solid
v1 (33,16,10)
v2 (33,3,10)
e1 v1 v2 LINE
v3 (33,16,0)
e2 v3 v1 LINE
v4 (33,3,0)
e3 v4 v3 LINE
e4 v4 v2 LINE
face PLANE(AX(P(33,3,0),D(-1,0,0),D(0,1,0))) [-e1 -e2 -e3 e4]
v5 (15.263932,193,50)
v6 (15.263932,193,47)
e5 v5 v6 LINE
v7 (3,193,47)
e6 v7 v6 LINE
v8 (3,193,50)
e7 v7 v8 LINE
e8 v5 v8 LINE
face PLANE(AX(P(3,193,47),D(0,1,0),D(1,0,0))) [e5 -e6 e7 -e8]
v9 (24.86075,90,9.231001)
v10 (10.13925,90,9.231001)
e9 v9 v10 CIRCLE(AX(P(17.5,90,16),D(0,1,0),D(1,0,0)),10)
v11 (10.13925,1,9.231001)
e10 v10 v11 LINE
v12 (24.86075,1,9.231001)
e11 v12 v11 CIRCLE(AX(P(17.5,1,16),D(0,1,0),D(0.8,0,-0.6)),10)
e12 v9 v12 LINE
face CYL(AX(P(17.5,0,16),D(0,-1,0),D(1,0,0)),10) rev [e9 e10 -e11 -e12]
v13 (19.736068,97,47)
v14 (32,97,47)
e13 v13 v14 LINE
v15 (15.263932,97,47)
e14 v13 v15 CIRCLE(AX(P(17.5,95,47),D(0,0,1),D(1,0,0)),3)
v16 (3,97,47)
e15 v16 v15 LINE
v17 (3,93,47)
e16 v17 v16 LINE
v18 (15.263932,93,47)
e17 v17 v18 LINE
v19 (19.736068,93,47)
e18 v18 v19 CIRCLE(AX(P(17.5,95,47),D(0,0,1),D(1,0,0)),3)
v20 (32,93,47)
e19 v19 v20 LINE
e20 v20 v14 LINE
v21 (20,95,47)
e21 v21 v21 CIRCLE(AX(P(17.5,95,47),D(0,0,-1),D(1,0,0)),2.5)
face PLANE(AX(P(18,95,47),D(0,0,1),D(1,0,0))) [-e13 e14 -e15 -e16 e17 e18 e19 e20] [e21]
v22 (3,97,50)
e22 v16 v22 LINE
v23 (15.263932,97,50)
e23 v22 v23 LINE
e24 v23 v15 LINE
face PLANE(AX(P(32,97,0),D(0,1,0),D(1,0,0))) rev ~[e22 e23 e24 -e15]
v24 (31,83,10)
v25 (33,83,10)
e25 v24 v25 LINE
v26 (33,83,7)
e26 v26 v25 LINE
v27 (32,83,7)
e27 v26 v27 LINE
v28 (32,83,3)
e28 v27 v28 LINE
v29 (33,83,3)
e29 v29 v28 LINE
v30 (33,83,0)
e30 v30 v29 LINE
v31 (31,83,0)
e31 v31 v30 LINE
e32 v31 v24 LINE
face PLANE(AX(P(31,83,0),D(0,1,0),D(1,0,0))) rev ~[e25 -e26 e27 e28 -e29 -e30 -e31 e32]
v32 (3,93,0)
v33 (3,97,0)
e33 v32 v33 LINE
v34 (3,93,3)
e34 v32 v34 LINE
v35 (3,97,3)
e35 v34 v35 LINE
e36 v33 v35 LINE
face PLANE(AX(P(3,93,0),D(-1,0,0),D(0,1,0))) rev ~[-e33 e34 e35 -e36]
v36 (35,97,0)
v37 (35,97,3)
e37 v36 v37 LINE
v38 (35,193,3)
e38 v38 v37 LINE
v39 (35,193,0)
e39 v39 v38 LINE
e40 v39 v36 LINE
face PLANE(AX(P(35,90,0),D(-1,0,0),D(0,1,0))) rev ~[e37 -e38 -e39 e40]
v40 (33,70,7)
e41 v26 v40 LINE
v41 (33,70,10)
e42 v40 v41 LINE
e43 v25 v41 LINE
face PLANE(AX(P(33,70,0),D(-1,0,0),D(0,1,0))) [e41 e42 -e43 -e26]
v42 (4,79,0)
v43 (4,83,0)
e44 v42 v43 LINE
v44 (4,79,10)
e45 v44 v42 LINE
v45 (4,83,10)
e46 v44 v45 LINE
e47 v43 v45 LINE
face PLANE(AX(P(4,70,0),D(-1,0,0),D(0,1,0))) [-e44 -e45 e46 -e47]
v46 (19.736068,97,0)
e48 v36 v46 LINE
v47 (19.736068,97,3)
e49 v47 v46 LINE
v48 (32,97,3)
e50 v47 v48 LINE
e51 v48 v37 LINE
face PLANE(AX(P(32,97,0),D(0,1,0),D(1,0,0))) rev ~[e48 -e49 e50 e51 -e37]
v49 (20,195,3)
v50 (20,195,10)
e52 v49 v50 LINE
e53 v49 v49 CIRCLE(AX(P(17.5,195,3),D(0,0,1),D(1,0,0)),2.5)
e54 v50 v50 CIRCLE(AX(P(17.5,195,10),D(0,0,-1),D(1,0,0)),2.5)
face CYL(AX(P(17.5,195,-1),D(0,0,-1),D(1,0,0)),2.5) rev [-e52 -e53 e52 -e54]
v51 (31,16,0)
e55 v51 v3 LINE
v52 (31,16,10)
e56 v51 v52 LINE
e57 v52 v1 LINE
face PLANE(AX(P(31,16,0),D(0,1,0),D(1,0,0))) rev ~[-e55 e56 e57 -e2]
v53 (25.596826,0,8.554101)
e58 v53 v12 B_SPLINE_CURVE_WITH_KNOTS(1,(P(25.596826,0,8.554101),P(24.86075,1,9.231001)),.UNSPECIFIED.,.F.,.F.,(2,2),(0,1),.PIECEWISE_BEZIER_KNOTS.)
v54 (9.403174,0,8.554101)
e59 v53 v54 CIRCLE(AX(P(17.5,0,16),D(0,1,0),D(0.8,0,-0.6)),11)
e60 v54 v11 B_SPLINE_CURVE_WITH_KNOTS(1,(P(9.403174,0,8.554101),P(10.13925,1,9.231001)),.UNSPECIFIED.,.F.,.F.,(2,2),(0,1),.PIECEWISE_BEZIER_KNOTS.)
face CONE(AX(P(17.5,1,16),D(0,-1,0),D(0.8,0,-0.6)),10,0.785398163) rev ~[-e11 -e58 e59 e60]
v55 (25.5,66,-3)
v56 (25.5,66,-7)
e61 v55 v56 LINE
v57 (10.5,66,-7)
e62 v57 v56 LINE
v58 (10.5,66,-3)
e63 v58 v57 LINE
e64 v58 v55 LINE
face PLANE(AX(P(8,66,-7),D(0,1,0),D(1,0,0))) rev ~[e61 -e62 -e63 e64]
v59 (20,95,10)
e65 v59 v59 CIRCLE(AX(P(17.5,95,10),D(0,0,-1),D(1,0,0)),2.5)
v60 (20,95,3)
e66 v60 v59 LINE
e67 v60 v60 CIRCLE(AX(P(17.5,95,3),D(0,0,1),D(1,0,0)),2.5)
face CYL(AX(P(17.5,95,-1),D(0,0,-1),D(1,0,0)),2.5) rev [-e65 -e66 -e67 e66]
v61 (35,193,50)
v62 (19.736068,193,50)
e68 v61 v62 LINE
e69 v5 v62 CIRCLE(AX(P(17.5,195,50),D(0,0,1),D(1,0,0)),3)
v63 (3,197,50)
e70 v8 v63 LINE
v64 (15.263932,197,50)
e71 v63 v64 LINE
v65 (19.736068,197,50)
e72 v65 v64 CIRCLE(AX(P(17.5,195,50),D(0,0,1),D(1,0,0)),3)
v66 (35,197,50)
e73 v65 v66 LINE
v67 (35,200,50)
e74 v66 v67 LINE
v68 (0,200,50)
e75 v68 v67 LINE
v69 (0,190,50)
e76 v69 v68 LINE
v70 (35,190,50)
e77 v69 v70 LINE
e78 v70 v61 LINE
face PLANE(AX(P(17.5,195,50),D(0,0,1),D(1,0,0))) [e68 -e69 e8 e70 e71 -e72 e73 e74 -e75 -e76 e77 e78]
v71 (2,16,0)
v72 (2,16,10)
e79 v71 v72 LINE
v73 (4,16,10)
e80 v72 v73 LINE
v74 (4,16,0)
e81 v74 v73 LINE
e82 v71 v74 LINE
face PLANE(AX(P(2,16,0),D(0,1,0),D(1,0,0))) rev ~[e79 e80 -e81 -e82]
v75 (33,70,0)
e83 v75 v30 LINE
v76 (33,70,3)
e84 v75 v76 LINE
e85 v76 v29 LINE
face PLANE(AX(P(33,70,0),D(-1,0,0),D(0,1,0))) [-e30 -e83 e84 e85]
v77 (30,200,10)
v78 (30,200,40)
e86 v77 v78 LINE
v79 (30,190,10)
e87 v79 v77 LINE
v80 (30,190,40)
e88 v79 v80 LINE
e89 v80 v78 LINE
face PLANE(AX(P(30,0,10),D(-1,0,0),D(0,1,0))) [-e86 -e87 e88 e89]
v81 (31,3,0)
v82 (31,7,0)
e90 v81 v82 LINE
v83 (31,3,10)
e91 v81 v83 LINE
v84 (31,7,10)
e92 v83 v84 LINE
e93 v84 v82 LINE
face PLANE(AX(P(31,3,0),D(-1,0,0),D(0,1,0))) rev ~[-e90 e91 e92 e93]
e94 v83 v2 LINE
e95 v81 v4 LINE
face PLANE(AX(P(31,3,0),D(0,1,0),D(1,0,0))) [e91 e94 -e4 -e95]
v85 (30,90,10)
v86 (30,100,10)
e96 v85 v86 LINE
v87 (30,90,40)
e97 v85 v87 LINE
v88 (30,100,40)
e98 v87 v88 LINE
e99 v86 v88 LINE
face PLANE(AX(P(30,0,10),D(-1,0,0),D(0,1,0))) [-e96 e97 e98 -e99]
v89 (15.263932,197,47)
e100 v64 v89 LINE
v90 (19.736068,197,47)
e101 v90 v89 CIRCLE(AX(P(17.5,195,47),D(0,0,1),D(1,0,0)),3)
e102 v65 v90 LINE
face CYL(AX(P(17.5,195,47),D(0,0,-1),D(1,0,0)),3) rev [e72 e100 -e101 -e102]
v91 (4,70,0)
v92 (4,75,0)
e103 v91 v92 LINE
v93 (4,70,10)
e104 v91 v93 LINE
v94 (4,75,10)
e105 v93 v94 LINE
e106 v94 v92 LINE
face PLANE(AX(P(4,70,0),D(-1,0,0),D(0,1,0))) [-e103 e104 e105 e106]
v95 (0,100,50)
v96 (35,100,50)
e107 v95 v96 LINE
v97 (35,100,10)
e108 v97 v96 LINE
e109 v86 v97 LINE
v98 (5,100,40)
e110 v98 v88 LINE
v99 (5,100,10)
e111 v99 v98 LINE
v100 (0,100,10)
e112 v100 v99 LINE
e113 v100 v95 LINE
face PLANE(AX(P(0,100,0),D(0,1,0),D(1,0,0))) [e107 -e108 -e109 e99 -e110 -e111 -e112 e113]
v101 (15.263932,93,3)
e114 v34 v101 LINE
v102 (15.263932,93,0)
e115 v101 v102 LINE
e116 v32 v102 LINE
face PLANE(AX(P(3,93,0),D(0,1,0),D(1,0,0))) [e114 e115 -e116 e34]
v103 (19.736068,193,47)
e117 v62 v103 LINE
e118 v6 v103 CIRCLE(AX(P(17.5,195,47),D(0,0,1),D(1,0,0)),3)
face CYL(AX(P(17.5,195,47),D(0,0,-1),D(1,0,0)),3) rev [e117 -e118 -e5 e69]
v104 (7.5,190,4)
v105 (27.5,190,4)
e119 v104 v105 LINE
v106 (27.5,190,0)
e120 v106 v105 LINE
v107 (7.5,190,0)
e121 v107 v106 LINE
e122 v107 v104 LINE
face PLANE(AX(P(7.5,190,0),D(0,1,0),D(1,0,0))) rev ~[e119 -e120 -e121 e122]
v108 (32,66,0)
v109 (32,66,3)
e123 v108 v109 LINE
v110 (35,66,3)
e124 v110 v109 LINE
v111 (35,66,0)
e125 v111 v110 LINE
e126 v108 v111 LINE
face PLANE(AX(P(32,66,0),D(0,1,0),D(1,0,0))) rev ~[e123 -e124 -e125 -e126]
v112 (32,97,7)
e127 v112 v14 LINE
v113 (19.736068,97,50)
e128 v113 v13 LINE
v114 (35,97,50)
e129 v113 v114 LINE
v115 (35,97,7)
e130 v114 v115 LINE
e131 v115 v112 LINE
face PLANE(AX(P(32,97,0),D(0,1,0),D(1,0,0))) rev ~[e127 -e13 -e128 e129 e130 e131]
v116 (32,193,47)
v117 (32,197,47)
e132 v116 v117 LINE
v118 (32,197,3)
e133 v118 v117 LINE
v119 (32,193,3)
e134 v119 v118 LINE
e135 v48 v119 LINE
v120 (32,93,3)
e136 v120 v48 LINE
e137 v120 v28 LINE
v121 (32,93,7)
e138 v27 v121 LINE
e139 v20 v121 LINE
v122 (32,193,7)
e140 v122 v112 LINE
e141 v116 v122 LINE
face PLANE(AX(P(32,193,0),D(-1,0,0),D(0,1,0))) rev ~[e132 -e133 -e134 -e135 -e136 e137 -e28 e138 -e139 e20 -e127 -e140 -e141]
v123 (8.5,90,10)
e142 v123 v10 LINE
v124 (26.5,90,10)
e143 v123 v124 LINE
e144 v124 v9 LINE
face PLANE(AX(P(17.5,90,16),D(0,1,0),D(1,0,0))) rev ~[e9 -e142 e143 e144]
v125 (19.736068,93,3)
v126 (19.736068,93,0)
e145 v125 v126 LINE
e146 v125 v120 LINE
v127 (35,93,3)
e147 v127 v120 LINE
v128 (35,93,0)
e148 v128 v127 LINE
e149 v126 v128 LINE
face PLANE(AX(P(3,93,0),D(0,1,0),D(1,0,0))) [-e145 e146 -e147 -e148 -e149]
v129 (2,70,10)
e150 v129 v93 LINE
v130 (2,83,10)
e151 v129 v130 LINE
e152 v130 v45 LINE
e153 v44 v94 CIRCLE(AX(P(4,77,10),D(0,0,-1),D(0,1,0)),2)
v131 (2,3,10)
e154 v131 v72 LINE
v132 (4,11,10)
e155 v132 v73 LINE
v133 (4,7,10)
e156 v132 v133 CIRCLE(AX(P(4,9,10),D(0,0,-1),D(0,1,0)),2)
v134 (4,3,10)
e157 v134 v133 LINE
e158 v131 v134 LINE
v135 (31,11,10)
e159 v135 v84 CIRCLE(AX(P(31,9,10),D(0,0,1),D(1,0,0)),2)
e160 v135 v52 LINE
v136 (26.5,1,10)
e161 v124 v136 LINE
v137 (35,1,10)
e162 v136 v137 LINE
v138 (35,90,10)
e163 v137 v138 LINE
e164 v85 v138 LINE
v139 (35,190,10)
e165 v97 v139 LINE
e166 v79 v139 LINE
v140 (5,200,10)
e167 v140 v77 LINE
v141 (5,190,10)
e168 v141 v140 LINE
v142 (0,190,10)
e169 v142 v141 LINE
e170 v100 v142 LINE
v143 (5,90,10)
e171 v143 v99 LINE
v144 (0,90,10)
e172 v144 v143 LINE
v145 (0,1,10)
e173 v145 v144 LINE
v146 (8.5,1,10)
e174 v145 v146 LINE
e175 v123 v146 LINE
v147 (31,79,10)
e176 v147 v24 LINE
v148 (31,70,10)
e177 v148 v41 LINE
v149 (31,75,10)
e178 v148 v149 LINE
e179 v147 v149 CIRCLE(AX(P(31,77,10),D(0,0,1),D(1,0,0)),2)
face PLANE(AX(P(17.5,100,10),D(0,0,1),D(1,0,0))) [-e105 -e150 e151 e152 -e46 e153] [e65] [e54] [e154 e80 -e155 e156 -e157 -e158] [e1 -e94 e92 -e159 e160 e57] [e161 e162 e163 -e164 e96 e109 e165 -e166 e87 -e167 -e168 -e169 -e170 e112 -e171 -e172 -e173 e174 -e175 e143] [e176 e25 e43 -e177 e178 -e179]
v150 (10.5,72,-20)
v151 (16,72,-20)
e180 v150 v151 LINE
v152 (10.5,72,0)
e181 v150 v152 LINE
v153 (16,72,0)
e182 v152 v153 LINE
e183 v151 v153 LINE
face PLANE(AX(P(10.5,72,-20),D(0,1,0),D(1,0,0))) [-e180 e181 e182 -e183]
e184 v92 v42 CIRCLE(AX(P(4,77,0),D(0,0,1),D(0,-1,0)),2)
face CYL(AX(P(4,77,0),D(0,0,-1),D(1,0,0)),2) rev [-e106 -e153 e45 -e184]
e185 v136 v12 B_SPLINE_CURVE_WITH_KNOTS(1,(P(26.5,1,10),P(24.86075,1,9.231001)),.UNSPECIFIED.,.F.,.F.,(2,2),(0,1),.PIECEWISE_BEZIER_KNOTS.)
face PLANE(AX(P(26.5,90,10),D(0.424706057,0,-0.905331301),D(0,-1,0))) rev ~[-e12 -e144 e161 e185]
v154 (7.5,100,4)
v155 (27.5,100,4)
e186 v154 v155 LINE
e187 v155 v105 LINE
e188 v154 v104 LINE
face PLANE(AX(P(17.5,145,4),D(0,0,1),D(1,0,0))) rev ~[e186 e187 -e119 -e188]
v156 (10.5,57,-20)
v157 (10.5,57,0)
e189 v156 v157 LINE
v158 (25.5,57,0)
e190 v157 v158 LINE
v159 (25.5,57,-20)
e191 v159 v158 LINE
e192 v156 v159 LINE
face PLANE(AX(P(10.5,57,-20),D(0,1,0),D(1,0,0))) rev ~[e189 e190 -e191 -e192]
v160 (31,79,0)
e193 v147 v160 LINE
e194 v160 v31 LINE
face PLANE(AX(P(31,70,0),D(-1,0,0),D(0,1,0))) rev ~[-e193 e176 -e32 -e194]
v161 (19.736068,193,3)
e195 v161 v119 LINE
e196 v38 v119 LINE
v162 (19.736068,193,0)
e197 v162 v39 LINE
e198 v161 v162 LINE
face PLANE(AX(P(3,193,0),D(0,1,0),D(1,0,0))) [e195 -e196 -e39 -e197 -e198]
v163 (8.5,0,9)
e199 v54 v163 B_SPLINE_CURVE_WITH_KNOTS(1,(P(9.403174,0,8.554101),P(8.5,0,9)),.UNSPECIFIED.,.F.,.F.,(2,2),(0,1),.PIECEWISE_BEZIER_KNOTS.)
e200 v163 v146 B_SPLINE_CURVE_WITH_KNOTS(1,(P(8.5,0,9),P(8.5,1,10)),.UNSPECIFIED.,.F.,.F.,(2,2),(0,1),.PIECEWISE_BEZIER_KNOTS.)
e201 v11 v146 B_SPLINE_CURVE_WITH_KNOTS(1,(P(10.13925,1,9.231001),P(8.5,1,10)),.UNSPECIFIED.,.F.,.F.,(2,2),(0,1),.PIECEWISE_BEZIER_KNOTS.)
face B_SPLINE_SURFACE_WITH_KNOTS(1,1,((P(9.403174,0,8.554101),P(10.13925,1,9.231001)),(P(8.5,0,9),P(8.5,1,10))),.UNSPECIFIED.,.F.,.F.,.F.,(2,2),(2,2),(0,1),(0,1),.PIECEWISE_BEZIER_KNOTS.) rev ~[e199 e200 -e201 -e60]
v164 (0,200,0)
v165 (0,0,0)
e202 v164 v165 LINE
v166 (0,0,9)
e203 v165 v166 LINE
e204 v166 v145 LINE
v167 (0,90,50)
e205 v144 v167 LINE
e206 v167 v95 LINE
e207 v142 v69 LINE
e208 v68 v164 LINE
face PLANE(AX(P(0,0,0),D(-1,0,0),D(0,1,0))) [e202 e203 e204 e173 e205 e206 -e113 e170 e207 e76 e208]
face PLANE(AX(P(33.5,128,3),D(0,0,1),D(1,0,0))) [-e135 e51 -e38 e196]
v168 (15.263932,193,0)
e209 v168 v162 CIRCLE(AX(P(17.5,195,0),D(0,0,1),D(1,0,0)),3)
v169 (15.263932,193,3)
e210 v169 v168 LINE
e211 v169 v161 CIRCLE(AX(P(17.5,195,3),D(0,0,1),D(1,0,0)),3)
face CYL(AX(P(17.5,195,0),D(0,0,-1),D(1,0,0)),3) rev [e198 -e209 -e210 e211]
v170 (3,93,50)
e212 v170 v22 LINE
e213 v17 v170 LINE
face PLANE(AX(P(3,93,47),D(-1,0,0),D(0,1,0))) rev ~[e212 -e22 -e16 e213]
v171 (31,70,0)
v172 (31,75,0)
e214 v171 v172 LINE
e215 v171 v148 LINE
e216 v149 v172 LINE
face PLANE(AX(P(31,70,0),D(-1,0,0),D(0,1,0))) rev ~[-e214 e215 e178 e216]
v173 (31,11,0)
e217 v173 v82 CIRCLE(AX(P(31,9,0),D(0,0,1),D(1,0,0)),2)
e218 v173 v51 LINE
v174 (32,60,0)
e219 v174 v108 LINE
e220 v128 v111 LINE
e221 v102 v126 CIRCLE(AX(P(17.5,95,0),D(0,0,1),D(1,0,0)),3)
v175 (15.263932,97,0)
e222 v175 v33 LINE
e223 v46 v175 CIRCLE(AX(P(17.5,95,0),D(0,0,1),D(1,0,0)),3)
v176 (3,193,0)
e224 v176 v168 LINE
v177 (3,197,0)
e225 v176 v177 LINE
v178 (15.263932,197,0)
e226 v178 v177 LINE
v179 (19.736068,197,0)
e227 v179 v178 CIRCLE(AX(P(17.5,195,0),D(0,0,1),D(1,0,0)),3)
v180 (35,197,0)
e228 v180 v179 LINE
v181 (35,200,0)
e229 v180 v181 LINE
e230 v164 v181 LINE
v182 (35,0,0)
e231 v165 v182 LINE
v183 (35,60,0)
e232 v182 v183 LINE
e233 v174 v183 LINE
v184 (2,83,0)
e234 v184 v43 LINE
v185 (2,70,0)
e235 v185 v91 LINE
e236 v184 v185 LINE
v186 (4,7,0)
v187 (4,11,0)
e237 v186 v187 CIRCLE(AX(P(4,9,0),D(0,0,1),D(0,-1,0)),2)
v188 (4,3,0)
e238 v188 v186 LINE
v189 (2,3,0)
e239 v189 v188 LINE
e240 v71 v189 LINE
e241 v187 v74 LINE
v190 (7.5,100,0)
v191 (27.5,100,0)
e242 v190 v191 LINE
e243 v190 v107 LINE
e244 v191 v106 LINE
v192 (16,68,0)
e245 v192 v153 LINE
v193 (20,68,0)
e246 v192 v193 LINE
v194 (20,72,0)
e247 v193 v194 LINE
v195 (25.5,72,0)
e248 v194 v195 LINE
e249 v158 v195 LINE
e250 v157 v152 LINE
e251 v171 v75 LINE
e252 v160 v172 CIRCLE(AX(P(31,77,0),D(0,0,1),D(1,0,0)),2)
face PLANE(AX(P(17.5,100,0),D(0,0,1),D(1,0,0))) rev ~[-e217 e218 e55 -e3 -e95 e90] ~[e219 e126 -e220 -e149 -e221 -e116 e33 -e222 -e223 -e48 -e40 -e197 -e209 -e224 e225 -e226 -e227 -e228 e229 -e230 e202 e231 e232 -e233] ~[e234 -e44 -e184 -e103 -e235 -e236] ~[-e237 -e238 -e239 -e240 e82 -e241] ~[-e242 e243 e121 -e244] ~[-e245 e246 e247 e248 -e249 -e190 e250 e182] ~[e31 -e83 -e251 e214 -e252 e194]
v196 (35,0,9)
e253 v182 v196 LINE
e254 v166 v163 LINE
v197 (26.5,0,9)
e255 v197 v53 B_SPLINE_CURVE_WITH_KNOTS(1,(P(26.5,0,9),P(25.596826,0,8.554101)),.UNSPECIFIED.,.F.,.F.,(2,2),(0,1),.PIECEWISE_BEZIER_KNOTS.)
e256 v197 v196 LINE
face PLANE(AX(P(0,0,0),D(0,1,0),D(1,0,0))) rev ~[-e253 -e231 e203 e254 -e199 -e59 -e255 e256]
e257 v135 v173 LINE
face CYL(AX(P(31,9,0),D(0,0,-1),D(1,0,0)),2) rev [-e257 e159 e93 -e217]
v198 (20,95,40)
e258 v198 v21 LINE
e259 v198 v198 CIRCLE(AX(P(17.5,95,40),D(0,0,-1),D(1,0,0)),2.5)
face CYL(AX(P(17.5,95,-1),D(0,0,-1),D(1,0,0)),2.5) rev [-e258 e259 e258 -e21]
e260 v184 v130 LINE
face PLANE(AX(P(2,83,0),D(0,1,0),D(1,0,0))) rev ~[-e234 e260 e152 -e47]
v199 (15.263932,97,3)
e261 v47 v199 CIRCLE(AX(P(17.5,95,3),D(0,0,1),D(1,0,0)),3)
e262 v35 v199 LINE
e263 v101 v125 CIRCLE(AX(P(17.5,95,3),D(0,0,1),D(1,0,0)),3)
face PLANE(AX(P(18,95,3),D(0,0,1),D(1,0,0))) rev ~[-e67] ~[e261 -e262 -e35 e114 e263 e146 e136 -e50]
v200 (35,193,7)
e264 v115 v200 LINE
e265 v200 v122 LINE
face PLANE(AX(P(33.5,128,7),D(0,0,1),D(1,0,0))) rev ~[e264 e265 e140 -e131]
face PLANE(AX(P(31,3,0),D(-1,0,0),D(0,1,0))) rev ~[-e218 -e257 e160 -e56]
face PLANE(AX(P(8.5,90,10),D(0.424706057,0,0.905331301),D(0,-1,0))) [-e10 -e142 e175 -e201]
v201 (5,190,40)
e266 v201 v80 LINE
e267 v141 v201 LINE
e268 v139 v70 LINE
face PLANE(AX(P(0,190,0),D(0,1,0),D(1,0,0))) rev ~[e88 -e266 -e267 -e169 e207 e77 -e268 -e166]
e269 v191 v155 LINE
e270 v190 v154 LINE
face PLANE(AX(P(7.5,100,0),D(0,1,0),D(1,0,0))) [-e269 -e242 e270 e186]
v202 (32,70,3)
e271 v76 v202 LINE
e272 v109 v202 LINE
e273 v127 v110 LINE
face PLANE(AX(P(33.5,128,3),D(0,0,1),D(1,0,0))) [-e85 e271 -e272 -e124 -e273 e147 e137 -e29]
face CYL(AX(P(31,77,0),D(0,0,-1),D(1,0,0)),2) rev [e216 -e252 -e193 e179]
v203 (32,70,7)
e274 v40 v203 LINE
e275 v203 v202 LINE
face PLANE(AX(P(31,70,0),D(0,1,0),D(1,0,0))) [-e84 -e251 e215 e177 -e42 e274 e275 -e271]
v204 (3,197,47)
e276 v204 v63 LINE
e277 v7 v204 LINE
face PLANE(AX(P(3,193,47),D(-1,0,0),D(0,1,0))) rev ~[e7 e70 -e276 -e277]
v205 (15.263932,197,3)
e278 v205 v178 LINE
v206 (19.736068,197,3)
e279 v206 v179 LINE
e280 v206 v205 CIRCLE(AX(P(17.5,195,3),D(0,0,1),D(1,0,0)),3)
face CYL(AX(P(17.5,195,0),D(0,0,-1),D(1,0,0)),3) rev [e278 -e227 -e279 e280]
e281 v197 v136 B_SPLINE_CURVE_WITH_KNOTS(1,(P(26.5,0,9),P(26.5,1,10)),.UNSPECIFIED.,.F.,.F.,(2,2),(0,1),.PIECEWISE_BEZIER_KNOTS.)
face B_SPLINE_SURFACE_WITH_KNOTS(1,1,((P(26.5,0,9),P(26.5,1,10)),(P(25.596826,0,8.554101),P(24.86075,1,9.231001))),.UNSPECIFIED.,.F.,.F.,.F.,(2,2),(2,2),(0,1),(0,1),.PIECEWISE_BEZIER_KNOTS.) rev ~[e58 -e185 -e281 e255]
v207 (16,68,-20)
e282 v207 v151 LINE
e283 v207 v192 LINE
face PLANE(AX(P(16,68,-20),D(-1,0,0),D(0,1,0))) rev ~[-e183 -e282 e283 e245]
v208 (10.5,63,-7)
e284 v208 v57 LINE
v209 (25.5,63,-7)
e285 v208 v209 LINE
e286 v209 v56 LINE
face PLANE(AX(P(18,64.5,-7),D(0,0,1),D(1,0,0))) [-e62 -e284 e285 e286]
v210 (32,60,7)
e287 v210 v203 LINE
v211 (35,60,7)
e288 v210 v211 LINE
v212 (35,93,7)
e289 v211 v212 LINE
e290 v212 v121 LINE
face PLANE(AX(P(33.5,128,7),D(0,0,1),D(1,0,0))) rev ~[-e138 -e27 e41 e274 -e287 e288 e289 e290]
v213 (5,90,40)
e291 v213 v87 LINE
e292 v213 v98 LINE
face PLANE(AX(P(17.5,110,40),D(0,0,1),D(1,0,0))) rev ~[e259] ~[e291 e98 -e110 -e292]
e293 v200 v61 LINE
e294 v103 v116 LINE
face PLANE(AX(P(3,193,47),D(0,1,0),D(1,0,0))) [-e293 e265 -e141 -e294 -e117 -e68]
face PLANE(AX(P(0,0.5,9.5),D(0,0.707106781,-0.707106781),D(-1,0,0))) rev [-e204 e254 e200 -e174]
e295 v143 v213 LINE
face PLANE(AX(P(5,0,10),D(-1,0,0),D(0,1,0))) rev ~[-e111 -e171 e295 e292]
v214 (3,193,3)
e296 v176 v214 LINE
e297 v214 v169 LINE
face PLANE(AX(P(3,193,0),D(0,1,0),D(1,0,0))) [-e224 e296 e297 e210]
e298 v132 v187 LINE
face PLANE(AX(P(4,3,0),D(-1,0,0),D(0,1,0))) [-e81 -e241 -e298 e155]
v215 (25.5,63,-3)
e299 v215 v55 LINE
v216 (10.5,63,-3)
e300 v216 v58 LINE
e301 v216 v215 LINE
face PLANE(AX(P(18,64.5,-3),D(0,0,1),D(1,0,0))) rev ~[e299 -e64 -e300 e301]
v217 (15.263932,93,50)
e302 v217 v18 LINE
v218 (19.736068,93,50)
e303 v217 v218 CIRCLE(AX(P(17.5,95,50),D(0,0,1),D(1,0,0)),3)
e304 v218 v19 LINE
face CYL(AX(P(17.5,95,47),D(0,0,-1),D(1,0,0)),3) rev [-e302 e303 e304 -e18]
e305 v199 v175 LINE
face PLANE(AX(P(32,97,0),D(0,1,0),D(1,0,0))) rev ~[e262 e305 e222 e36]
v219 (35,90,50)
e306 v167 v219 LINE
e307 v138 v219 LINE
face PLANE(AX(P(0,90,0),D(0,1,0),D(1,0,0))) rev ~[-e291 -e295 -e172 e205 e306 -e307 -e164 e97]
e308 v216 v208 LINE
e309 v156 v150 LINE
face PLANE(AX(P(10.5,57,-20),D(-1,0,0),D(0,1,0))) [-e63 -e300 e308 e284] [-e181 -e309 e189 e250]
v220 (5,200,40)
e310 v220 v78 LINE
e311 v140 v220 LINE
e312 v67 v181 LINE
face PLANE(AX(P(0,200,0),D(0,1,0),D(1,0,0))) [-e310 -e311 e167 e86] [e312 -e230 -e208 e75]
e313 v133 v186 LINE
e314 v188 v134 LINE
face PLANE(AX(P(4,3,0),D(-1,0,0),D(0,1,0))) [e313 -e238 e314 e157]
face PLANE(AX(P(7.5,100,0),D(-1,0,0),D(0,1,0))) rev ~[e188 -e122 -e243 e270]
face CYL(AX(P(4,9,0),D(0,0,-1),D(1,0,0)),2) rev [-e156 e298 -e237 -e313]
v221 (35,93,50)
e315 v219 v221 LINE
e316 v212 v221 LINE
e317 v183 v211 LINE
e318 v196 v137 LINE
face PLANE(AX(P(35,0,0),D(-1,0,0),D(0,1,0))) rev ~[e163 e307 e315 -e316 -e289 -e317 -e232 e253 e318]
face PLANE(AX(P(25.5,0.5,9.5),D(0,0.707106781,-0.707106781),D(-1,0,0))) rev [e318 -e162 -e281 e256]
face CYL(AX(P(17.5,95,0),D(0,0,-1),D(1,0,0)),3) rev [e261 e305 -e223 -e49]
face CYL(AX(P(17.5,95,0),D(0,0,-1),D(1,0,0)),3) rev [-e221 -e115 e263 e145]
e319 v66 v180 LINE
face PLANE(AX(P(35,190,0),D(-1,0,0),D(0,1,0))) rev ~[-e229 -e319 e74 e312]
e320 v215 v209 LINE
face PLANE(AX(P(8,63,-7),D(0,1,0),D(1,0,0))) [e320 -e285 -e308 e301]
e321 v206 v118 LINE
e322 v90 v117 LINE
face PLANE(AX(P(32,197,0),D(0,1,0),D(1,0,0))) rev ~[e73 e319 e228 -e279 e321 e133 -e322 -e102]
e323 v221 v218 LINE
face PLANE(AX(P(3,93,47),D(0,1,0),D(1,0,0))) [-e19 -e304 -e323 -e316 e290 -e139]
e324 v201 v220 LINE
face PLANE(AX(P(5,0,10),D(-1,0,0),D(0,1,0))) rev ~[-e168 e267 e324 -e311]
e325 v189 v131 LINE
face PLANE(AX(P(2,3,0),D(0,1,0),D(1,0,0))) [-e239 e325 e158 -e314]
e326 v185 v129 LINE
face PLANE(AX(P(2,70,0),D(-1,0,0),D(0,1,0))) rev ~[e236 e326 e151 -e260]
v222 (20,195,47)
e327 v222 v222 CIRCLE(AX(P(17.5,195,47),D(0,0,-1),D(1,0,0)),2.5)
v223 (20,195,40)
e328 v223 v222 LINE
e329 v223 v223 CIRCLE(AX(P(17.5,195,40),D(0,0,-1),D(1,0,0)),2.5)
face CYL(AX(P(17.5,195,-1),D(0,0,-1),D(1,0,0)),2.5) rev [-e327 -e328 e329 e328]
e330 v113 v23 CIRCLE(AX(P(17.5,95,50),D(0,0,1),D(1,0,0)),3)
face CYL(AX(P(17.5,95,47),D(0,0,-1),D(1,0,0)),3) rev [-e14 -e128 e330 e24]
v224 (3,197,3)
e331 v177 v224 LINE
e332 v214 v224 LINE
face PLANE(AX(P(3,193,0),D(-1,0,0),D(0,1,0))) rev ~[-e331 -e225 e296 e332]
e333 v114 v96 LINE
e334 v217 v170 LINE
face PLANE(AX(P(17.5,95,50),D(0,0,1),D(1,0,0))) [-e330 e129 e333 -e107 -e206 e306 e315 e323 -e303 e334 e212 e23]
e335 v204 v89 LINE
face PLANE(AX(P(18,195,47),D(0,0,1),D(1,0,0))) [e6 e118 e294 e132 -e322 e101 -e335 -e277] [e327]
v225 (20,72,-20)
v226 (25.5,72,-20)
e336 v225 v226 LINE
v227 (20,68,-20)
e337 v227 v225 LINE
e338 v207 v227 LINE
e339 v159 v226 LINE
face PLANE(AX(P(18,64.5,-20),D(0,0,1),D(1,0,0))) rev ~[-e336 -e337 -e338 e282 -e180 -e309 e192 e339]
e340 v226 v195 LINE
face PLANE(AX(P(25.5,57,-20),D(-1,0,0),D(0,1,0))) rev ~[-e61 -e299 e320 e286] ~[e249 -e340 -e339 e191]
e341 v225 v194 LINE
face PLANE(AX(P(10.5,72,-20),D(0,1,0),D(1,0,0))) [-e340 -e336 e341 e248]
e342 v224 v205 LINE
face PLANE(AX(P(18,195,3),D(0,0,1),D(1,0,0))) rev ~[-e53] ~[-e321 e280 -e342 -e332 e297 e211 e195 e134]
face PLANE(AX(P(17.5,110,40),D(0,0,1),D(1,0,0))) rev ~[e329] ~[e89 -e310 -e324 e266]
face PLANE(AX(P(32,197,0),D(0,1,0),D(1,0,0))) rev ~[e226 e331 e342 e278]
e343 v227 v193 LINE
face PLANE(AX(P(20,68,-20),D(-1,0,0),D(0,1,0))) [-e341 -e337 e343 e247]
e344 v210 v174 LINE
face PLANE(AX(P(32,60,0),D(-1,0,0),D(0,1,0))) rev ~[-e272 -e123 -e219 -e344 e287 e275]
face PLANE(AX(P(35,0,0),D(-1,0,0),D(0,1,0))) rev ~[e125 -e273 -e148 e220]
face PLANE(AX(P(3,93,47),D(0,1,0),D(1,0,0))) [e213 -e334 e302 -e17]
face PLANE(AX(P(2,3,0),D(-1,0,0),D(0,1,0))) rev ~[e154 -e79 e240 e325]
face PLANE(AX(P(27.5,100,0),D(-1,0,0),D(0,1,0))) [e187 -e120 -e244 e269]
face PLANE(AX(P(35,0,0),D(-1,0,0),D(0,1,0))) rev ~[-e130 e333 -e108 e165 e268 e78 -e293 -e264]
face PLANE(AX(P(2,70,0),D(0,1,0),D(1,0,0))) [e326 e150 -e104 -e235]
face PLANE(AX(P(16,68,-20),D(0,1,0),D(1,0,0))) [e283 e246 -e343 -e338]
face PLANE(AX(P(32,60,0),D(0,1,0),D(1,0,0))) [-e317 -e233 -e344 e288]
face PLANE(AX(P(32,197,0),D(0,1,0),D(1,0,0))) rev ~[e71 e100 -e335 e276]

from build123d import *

# Parameters (mm, degrees)
CYLINDER005_R     = 3
CYLINDER005_DEPTH = 3
CYLINDER006_R     = 3
CYLINDER006_DEPTH = 3
CYLINDER002_R     = 2.5
CYLINDER002_DEPTH = 60
BOX010_W          = 30
BOX010_H          = 4
BOX010_DEPTH      = 3
BOX008_W          = 30
BOX008_H          = 4
BOX008_DEPTH      = 3
BOX006_W          = 3
BOX006_H          = 4
BOX006_DEPTH      = 50
BOX004_W          = 3
BOX004_H          = 136
BOX004_DEPTH      = 4
BOX003_W          = 25
BOX003_H          = 220
BOX003_DEPTH      = 30
BOX002_W          = 35
BOX002_H          = 10
BOX002_DEPTH      = 50
BOX021_W          = 3
BOX021_H          = 6
BOX021_DEPTH      = 4
BOX018_W          = 20
BOX018_H          = 90
BOX018_DEPTH      = 4
CYLINDER008_R     = 2
CYLINDER008_DEPTH = 10
CYLINDER009_R     = 2
CYLINDER009_DEPTH = 10
CYLINDER010_R     = 2
CYLINDER010_DEPTH = 10
CYLINDER007_R     = 2
CYLINDER007_DEPTH = 10
BOX015_W          = 2
BOX015_H          = 13
BOX015_DEPTH      = 10
BOX016_W          = 2
BOX016_H          = 13
BOX016_DEPTH      = 10
BOX017_W          = 2
BOX017_H          = 13
BOX017_DEPTH      = 10
BOX014_W          = 2
BOX014_H          = 13
BOX014_DEPTH      = 10
CYLINDER003_R     = 3
CYLINDER003_DEPTH = 3
CYLINDER001_R     = 2.5
CYLINDER001_DEPTH = 60
BOX007_W          = 30
BOX007_H          = 4
BOX007_DEPTH      = 3
BOX005_W          = 3
BOX005_H          = 4
BOX005_DEPTH      = 50
CYLINDER_R        = 10
CYLINDER_DEPTH    = 90
BOX_W             = 35
BOX_H             = 200
BOX_DEPTH         = 10
CHAMFER_SIZE      = 1
BOX023_W          = 4
BOX023_H          = 4
BOX023_DEPTH      = 20
BOX022_W          = 20
BOX022_H          = 3
BOX022_DEPTH      = 4
BOX019_W          = 15
BOX019_H          = 15
BOX019_DEPTH      = 20
CYLINDER004_R     = 3
CYLINDER004_DEPTH = 3
BOX009_W          = 30
BOX009_H          = 4
BOX009_DEPTH      = 3
BOX001_W          = 35
BOX001_H          = 10
BOX001_DEPTH      = 50


with BuildPart() as cilindro005:
    # Cylinder005 → Cylinder005 (new body)
    with BuildSketch(Plane(origin=(17.5, 195, 0), x_dir=(1, 0, 0), z_dir=(0, 0, 1))):
        Circle(CYLINDER005_R)
    extrude(amount=CYLINDER005_DEPTH)


with BuildPart() as cilindro006:
    # Cylinder006 → Cylinder006 (new body)
    with BuildSketch(Plane(origin=(17.5, 195, 47), x_dir=(1, 0, 0), z_dir=(0, 0, 1))):
        Circle(CYLINDER006_R)
    extrude(amount=CYLINDER006_DEPTH)


with BuildPart() as cilindro002:
    # Cylinder002 → Cylinder002 (new body)
    with BuildSketch(Plane(origin=(17.5, 195, -1), x_dir=(1, 0, 0), z_dir=(0, 0, 1))):
        Circle(CYLINDER002_R)
    extrude(amount=CYLINDER002_DEPTH)


with BuildPart() as cubo010:
    # Box010 → Box010 (new body)
    with BuildSketch(Plane(origin=(3, 193, 47), x_dir=(1, 0, 0), z_dir=(0, 0, 1))):
        with Locations((15, 2)):
            Rectangle(BOX010_W, BOX010_H)
    extrude(amount=BOX010_DEPTH)


with BuildPart() as cubo008:
    # Box008 → Box008 (new body)
    with BuildSketch(Plane(origin=(3, 193, 0), x_dir=(1, 0, 0), z_dir=(0, 0, 1))):
        with Locations((15, 2)):
            Rectangle(BOX008_W, BOX008_H)
    extrude(amount=BOX008_DEPTH)


with BuildPart() as cubo006:
    # Box006 → Box006 (new body)
    with BuildSketch(Plane(origin=(32, 193, 0), x_dir=(1, 0, 0), z_dir=(0, 0, 1))):
        with Locations((1.5, 2)):
            Rectangle(BOX006_W, BOX006_H)
    extrude(amount=BOX006_DEPTH)


with BuildPart() as cubo004:
    # Box004 → Box004 (new body)
    with BuildSketch(Plane(origin=(32, 60, 3), x_dir=(1, 0, 0), z_dir=(0, 0, 1))):
        with Locations((1.5, 68)):
            Rectangle(BOX004_W, BOX004_H)
    extrude(amount=BOX004_DEPTH)


with BuildPart() as cubo003:
    # Box003 → Box003 (new body)
    with BuildSketch(Plane(origin=(5, 0, 10), x_dir=(1, 0, 0), z_dir=(0, 0, 1))):
        with Locations((12.5, 110)):
            Rectangle(BOX003_W, BOX003_H)
    extrude(amount=BOX003_DEPTH)


with BuildPart() as cut023:
    # Box002 → Box002 (new body)
    with BuildSketch(Plane(origin=(0, 190, 0), x_dir=(1, 0, 0), z_dir=(0, 0, 1))):
        with Locations((17.5, 5)):
            Rectangle(BOX002_W, BOX002_H)
    extrude(amount=BOX002_DEPTH)

    # Cut002: cut Cubo003
    add(cubo003.part, mode=Mode.SUBTRACT)

    # Cut005: cut Cubo004
    add(cubo004.part, mode=Mode.SUBTRACT)

    # Cut007: cut Cubo006
    add(cubo006.part, mode=Mode.SUBTRACT)

    # Cut011: cut Cubo008
    add(cubo008.part, mode=Mode.SUBTRACT)

    # Cut015: cut Cubo010
    add(cubo010.part, mode=Mode.SUBTRACT)

    # Cut017: cut Cilindro002
    add(cilindro002.part, mode=Mode.SUBTRACT)

    # Cut021: cut Cilindro006
    add(cilindro006.part, mode=Mode.SUBTRACT)

    # Cut023: cut Cilindro005
    add(cilindro005.part, mode=Mode.SUBTRACT)


with BuildPart() as cubo021:
    # Box021 → Box021 (new body)
    with BuildSketch(Plane(origin=(32, 60, 0), x_dir=(1, 0, 0), z_dir=(0, 0, 1))):
        with Locations((1.5, 3)):
            Rectangle(BOX021_W, BOX021_H)
    extrude(amount=BOX021_DEPTH)


with BuildPart() as cubo018:
    # Box018 → Box018 (new body)
    with BuildSketch(Plane(origin=(7.5, 100, 0), x_dir=(1, 0, 0), z_dir=(0, 0, 1))):
        with Locations((10, 45)):
            Rectangle(BOX018_W, BOX018_H)
    extrude(amount=BOX018_DEPTH)


with BuildPart() as cilindro008:
    # Cylinder008 → Cylinder008 (new body)
    with BuildSketch(Plane(origin=(31, 9, 0), x_dir=(1, 0, 0), z_dir=(0, 0, 1))):
        Circle(CYLINDER008_R)
    extrude(amount=CYLINDER008_DEPTH)


with BuildPart() as cilindro009:
    # Cylinder009 → Cylinder009 (new body)
    with BuildSketch(Plane(origin=(31, 77, 0), x_dir=(1, 0, 0), z_dir=(0, 0, 1))):
        Circle(CYLINDER009_R)
    extrude(amount=CYLINDER009_DEPTH)


with BuildPart() as cilindro010:
    # Cylinder010 → Cylinder010 (new body)
    with BuildSketch(Plane(origin=(4, 77, 0), x_dir=(1, 0, 0), z_dir=(0, 0, 1))):
        Circle(CYLINDER010_R)
    extrude(amount=CYLINDER010_DEPTH)


with BuildPart() as cilindro007:
    # Cylinder007 → Cylinder007 (new body)
    with BuildSketch(Plane(origin=(4, 9, 0), x_dir=(1, 0, 0), z_dir=(0, 0, 1))):
        Circle(CYLINDER007_R)
    extrude(amount=CYLINDER007_DEPTH)


with BuildPart() as cubo015:
    # Box015 → Box015 (new body)
    with BuildSketch(Plane(origin=(31, 3, 0), x_dir=(1, 0, 0), z_dir=(0, 0, 1))):
        with Locations((1, 6.5)):
            Rectangle(BOX015_W, BOX015_H)
    extrude(amount=BOX015_DEPTH)


with BuildPart() as cubo016:
    # Box016 → Box016 (new body)
    with BuildSketch(Plane(origin=(2, 70, 0), x_dir=(1, 0, 0), z_dir=(0, 0, 1))):
        with Locations((1, 6.5)):
            Rectangle(BOX016_W, BOX016_H)
    extrude(amount=BOX016_DEPTH)


with BuildPart() as cubo017:
    # Box017 → Box017 (new body)
    with BuildSketch(Plane(origin=(31, 70, 0), x_dir=(1, 0, 0), z_dir=(0, 0, 1))):
        with Locations((1, 6.5)):
            Rectangle(BOX017_W, BOX017_H)
    extrude(amount=BOX017_DEPTH)


with BuildPart() as cubo014:
    # Box014 → Box014 (new body)
    with BuildSketch(Plane(origin=(2, 3, 0), x_dir=(1, 0, 0), z_dir=(0, 0, 1))):
        with Locations((1, 6.5)):
            Rectangle(BOX014_W, BOX014_H)
    extrude(amount=BOX014_DEPTH)


with BuildPart() as cilindro003:
    # Cylinder003 → Cylinder003 (new body)
    with BuildSketch(Plane(origin=(17.5, 95, 0), x_dir=(1, 0, 0), z_dir=(0, 0, 1))):
        Circle(CYLINDER003_R)
    extrude(amount=CYLINDER003_DEPTH)


with BuildPart() as cilindro001:
    # Cylinder001 → Cylinder001 (new body)
    with BuildSketch(Plane(origin=(17.5, 95, -1), x_dir=(1, 0, 0), z_dir=(0, 0, 1))):
        Circle(CYLINDER001_R)
    extrude(amount=CYLINDER001_DEPTH)


with BuildPart() as cubo007:
    # Box007 → Box007 (new body)
    with BuildSketch(Plane(origin=(3, 93, 0), x_dir=(1, 0, 0), z_dir=(0, 0, 1))):
        with Locations((15, 2)):
            Rectangle(BOX007_W, BOX007_H)
    extrude(amount=BOX007_DEPTH)


with BuildPart() as cubo005:
    # Box005 → Box005 (new body)
    with BuildSketch(Plane(origin=(32, 93, 0), x_dir=(1, 0, 0), z_dir=(0, 0, 1))):
        with Locations((1.5, 2)):
            Rectangle(BOX005_W, BOX005_H)
    extrude(amount=BOX005_DEPTH)


with BuildPart() as cilindro:
    # Cylinder → Cylinder (new body)
    with BuildSketch(Plane(origin=(17.5, 0, 16), x_dir=(1, 0, 0), z_dir=(0, 1, 0))):
        Circle(CYLINDER_R)
    extrude(amount=CYLINDER_DEPTH)


with BuildPart() as cut037:
    # Box → Box (new body)
    with BuildSketch(Plane.XY):
        with Locations((17.5, 100)):
            Rectangle(BOX_W, BOX_H)
    extrude(amount=BOX_DEPTH)

    # Cut: cut Cilindro
    add(cilindro.part, mode=Mode.SUBTRACT)

    # Chamfer
    chamfer_edges = [cut037.edges().sort_by_distance(p)[0] for p in [
        (30.25, 0, 10),
        (17.5, 0, 6),
        (4.75, 0, 10),
        (25.5, 45, 10),
        (9.5, 45, 10),
    ]]
    chamfer(chamfer_edges, length=CHAMFER_SIZE)

    # Cut003: cut Cubo004
    add(cubo004.part, mode=Mode.SUBTRACT)

    # Cut008: cut Cubo005
    add(cubo005.part, mode=Mode.SUBTRACT)

    # Cut009: cut Cubo006
    add(cubo006.part, mode=Mode.SUBTRACT)

    # Cut012: cut Cubo007
    add(cubo007.part, mode=Mode.SUBTRACT)

    # Cut013: cut Cubo008
    add(cubo008.part, mode=Mode.SUBTRACT)

    # Cut018: cut Cilindro001
    add(cilindro001.part, mode=Mode.SUBTRACT)

    # Cut019: cut Cilindro002
    add(cilindro002.part, mode=Mode.SUBTRACT)

    # Cut024: cut Cilindro003
    add(cilindro003.part, mode=Mode.SUBTRACT)

    # Cut025: cut Cilindro005
    add(cilindro005.part, mode=Mode.SUBTRACT)

    # Cut028: cut Cubo014
    add(cubo014.part, mode=Mode.SUBTRACT)

    # Cut029: cut Cubo017
    add(cubo017.part, mode=Mode.SUBTRACT)

    # Cut030: cut Cubo016
    add(cubo016.part, mode=Mode.SUBTRACT)

    # Cut031: cut Cubo015
    add(cubo015.part, mode=Mode.SUBTRACT)

    # Cut032: cut Cilindro007
    add(cilindro007.part, mode=Mode.SUBTRACT)

    # Cut033: cut Cilindro010
    add(cilindro010.part, mode=Mode.SUBTRACT)

    # Cut034: cut Cilindro009
    add(cilindro009.part, mode=Mode.SUBTRACT)

    # Cut035: cut Cilindro008
    add(cilindro008.part, mode=Mode.SUBTRACT)

    # Cut036: cut Cubo018
    add(cubo018.part, mode=Mode.SUBTRACT)

    # Cut037: cut Cubo021
    add(cubo021.part, mode=Mode.SUBTRACT)


with BuildPart() as cubo023:
    # Box023 → Box023 (new body)
    with BuildSketch(Plane(origin=(16, 61, -20), x_dir=(1, 0, 0), z_dir=(0, 0, 1))):
        with Locations((2, 2)):
            Rectangle(BOX023_W, BOX023_H)
    extrude(amount=BOX023_DEPTH)


with BuildPart() as cubo022:
    # Box022 → Box022 (new body)
    with BuildSketch(Plane(origin=(8, 56, -7), x_dir=(1, 0, 0), z_dir=(0, 0, 1))):
        with Locations((10, 1.5)):
            Rectangle(BOX022_W, BOX022_H)
    extrude(amount=BOX022_DEPTH)


with BuildPart() as cut039:
    # Box019 → Box019 (new body)
    with BuildSketch(Plane(origin=(10.5, 50, -20), x_dir=(1, 0, 0), z_dir=(0, 0, 1))):
        with Locations((7.5, 7.5)):
            Rectangle(BOX019_W, BOX019_H)
    extrude(amount=BOX019_DEPTH)

    # Cut038: cut Cubo022
    add(cubo022.part, mode=Mode.SUBTRACT)

    # Cut039: cut Cubo023
    add(cubo023.part, mode=Mode.SUBTRACT)


with BuildPart() as cut039_1:
    # Cut039 placement: moved
    add(cut039.part.moved(Location((0, 7, 0))))


with BuildPart() as cilindro004:
    # Cylinder004 → Cylinder004 (new body)
    with BuildSketch(Plane(origin=(17.5, 95, 47), x_dir=(1, 0, 0), z_dir=(0, 0, 1))):
        Circle(CYLINDER004_R)
    extrude(amount=CYLINDER004_DEPTH)


with BuildPart() as cubo009:
    # Box009 → Box009 (new body)
    with BuildSketch(Plane(origin=(3, 93, 47), x_dir=(1, 0, 0), z_dir=(0, 0, 1))):
        with Locations((15, 2)):
            Rectangle(BOX009_W, BOX009_H)
    extrude(amount=BOX009_DEPTH)


with BuildPart() as fusion:
    # Box001 → Box001 (new body)
    with BuildSketch(Plane(origin=(0, 90, 0), x_dir=(1, 0, 0), z_dir=(0, 0, 1))):
        with Locations((17.5, 5)):
            Rectangle(BOX001_W, BOX001_H)
    extrude(amount=BOX001_DEPTH)

    # Cut001: cut Cubo003
    add(cubo003.part, mode=Mode.SUBTRACT)

    # Cut004: cut Cubo004
    add(cubo004.part, mode=Mode.SUBTRACT)

    # Cut006: cut Cubo005
    add(cubo005.part, mode=Mode.SUBTRACT)

    # Cut010: cut Cubo007
    add(cubo007.part, mode=Mode.SUBTRACT)

    # Cut014: cut Cubo009
    add(cubo009.part, mode=Mode.SUBTRACT)

    # Cut016: cut Cilindro001
    add(cilindro001.part, mode=Mode.SUBTRACT)

    # Cut020: cut Cilindro004
    add(cilindro004.part, mode=Mode.SUBTRACT)

    # Cut022: cut Cilindro003
    add(cilindro003.part, mode=Mode.SUBTRACT)

    # Fusion: union Cut023, Cut037, Cut039
    add(cut023.part)
    add(cut037.part)
    add(cut039_1.part)


solid = fusion.part
